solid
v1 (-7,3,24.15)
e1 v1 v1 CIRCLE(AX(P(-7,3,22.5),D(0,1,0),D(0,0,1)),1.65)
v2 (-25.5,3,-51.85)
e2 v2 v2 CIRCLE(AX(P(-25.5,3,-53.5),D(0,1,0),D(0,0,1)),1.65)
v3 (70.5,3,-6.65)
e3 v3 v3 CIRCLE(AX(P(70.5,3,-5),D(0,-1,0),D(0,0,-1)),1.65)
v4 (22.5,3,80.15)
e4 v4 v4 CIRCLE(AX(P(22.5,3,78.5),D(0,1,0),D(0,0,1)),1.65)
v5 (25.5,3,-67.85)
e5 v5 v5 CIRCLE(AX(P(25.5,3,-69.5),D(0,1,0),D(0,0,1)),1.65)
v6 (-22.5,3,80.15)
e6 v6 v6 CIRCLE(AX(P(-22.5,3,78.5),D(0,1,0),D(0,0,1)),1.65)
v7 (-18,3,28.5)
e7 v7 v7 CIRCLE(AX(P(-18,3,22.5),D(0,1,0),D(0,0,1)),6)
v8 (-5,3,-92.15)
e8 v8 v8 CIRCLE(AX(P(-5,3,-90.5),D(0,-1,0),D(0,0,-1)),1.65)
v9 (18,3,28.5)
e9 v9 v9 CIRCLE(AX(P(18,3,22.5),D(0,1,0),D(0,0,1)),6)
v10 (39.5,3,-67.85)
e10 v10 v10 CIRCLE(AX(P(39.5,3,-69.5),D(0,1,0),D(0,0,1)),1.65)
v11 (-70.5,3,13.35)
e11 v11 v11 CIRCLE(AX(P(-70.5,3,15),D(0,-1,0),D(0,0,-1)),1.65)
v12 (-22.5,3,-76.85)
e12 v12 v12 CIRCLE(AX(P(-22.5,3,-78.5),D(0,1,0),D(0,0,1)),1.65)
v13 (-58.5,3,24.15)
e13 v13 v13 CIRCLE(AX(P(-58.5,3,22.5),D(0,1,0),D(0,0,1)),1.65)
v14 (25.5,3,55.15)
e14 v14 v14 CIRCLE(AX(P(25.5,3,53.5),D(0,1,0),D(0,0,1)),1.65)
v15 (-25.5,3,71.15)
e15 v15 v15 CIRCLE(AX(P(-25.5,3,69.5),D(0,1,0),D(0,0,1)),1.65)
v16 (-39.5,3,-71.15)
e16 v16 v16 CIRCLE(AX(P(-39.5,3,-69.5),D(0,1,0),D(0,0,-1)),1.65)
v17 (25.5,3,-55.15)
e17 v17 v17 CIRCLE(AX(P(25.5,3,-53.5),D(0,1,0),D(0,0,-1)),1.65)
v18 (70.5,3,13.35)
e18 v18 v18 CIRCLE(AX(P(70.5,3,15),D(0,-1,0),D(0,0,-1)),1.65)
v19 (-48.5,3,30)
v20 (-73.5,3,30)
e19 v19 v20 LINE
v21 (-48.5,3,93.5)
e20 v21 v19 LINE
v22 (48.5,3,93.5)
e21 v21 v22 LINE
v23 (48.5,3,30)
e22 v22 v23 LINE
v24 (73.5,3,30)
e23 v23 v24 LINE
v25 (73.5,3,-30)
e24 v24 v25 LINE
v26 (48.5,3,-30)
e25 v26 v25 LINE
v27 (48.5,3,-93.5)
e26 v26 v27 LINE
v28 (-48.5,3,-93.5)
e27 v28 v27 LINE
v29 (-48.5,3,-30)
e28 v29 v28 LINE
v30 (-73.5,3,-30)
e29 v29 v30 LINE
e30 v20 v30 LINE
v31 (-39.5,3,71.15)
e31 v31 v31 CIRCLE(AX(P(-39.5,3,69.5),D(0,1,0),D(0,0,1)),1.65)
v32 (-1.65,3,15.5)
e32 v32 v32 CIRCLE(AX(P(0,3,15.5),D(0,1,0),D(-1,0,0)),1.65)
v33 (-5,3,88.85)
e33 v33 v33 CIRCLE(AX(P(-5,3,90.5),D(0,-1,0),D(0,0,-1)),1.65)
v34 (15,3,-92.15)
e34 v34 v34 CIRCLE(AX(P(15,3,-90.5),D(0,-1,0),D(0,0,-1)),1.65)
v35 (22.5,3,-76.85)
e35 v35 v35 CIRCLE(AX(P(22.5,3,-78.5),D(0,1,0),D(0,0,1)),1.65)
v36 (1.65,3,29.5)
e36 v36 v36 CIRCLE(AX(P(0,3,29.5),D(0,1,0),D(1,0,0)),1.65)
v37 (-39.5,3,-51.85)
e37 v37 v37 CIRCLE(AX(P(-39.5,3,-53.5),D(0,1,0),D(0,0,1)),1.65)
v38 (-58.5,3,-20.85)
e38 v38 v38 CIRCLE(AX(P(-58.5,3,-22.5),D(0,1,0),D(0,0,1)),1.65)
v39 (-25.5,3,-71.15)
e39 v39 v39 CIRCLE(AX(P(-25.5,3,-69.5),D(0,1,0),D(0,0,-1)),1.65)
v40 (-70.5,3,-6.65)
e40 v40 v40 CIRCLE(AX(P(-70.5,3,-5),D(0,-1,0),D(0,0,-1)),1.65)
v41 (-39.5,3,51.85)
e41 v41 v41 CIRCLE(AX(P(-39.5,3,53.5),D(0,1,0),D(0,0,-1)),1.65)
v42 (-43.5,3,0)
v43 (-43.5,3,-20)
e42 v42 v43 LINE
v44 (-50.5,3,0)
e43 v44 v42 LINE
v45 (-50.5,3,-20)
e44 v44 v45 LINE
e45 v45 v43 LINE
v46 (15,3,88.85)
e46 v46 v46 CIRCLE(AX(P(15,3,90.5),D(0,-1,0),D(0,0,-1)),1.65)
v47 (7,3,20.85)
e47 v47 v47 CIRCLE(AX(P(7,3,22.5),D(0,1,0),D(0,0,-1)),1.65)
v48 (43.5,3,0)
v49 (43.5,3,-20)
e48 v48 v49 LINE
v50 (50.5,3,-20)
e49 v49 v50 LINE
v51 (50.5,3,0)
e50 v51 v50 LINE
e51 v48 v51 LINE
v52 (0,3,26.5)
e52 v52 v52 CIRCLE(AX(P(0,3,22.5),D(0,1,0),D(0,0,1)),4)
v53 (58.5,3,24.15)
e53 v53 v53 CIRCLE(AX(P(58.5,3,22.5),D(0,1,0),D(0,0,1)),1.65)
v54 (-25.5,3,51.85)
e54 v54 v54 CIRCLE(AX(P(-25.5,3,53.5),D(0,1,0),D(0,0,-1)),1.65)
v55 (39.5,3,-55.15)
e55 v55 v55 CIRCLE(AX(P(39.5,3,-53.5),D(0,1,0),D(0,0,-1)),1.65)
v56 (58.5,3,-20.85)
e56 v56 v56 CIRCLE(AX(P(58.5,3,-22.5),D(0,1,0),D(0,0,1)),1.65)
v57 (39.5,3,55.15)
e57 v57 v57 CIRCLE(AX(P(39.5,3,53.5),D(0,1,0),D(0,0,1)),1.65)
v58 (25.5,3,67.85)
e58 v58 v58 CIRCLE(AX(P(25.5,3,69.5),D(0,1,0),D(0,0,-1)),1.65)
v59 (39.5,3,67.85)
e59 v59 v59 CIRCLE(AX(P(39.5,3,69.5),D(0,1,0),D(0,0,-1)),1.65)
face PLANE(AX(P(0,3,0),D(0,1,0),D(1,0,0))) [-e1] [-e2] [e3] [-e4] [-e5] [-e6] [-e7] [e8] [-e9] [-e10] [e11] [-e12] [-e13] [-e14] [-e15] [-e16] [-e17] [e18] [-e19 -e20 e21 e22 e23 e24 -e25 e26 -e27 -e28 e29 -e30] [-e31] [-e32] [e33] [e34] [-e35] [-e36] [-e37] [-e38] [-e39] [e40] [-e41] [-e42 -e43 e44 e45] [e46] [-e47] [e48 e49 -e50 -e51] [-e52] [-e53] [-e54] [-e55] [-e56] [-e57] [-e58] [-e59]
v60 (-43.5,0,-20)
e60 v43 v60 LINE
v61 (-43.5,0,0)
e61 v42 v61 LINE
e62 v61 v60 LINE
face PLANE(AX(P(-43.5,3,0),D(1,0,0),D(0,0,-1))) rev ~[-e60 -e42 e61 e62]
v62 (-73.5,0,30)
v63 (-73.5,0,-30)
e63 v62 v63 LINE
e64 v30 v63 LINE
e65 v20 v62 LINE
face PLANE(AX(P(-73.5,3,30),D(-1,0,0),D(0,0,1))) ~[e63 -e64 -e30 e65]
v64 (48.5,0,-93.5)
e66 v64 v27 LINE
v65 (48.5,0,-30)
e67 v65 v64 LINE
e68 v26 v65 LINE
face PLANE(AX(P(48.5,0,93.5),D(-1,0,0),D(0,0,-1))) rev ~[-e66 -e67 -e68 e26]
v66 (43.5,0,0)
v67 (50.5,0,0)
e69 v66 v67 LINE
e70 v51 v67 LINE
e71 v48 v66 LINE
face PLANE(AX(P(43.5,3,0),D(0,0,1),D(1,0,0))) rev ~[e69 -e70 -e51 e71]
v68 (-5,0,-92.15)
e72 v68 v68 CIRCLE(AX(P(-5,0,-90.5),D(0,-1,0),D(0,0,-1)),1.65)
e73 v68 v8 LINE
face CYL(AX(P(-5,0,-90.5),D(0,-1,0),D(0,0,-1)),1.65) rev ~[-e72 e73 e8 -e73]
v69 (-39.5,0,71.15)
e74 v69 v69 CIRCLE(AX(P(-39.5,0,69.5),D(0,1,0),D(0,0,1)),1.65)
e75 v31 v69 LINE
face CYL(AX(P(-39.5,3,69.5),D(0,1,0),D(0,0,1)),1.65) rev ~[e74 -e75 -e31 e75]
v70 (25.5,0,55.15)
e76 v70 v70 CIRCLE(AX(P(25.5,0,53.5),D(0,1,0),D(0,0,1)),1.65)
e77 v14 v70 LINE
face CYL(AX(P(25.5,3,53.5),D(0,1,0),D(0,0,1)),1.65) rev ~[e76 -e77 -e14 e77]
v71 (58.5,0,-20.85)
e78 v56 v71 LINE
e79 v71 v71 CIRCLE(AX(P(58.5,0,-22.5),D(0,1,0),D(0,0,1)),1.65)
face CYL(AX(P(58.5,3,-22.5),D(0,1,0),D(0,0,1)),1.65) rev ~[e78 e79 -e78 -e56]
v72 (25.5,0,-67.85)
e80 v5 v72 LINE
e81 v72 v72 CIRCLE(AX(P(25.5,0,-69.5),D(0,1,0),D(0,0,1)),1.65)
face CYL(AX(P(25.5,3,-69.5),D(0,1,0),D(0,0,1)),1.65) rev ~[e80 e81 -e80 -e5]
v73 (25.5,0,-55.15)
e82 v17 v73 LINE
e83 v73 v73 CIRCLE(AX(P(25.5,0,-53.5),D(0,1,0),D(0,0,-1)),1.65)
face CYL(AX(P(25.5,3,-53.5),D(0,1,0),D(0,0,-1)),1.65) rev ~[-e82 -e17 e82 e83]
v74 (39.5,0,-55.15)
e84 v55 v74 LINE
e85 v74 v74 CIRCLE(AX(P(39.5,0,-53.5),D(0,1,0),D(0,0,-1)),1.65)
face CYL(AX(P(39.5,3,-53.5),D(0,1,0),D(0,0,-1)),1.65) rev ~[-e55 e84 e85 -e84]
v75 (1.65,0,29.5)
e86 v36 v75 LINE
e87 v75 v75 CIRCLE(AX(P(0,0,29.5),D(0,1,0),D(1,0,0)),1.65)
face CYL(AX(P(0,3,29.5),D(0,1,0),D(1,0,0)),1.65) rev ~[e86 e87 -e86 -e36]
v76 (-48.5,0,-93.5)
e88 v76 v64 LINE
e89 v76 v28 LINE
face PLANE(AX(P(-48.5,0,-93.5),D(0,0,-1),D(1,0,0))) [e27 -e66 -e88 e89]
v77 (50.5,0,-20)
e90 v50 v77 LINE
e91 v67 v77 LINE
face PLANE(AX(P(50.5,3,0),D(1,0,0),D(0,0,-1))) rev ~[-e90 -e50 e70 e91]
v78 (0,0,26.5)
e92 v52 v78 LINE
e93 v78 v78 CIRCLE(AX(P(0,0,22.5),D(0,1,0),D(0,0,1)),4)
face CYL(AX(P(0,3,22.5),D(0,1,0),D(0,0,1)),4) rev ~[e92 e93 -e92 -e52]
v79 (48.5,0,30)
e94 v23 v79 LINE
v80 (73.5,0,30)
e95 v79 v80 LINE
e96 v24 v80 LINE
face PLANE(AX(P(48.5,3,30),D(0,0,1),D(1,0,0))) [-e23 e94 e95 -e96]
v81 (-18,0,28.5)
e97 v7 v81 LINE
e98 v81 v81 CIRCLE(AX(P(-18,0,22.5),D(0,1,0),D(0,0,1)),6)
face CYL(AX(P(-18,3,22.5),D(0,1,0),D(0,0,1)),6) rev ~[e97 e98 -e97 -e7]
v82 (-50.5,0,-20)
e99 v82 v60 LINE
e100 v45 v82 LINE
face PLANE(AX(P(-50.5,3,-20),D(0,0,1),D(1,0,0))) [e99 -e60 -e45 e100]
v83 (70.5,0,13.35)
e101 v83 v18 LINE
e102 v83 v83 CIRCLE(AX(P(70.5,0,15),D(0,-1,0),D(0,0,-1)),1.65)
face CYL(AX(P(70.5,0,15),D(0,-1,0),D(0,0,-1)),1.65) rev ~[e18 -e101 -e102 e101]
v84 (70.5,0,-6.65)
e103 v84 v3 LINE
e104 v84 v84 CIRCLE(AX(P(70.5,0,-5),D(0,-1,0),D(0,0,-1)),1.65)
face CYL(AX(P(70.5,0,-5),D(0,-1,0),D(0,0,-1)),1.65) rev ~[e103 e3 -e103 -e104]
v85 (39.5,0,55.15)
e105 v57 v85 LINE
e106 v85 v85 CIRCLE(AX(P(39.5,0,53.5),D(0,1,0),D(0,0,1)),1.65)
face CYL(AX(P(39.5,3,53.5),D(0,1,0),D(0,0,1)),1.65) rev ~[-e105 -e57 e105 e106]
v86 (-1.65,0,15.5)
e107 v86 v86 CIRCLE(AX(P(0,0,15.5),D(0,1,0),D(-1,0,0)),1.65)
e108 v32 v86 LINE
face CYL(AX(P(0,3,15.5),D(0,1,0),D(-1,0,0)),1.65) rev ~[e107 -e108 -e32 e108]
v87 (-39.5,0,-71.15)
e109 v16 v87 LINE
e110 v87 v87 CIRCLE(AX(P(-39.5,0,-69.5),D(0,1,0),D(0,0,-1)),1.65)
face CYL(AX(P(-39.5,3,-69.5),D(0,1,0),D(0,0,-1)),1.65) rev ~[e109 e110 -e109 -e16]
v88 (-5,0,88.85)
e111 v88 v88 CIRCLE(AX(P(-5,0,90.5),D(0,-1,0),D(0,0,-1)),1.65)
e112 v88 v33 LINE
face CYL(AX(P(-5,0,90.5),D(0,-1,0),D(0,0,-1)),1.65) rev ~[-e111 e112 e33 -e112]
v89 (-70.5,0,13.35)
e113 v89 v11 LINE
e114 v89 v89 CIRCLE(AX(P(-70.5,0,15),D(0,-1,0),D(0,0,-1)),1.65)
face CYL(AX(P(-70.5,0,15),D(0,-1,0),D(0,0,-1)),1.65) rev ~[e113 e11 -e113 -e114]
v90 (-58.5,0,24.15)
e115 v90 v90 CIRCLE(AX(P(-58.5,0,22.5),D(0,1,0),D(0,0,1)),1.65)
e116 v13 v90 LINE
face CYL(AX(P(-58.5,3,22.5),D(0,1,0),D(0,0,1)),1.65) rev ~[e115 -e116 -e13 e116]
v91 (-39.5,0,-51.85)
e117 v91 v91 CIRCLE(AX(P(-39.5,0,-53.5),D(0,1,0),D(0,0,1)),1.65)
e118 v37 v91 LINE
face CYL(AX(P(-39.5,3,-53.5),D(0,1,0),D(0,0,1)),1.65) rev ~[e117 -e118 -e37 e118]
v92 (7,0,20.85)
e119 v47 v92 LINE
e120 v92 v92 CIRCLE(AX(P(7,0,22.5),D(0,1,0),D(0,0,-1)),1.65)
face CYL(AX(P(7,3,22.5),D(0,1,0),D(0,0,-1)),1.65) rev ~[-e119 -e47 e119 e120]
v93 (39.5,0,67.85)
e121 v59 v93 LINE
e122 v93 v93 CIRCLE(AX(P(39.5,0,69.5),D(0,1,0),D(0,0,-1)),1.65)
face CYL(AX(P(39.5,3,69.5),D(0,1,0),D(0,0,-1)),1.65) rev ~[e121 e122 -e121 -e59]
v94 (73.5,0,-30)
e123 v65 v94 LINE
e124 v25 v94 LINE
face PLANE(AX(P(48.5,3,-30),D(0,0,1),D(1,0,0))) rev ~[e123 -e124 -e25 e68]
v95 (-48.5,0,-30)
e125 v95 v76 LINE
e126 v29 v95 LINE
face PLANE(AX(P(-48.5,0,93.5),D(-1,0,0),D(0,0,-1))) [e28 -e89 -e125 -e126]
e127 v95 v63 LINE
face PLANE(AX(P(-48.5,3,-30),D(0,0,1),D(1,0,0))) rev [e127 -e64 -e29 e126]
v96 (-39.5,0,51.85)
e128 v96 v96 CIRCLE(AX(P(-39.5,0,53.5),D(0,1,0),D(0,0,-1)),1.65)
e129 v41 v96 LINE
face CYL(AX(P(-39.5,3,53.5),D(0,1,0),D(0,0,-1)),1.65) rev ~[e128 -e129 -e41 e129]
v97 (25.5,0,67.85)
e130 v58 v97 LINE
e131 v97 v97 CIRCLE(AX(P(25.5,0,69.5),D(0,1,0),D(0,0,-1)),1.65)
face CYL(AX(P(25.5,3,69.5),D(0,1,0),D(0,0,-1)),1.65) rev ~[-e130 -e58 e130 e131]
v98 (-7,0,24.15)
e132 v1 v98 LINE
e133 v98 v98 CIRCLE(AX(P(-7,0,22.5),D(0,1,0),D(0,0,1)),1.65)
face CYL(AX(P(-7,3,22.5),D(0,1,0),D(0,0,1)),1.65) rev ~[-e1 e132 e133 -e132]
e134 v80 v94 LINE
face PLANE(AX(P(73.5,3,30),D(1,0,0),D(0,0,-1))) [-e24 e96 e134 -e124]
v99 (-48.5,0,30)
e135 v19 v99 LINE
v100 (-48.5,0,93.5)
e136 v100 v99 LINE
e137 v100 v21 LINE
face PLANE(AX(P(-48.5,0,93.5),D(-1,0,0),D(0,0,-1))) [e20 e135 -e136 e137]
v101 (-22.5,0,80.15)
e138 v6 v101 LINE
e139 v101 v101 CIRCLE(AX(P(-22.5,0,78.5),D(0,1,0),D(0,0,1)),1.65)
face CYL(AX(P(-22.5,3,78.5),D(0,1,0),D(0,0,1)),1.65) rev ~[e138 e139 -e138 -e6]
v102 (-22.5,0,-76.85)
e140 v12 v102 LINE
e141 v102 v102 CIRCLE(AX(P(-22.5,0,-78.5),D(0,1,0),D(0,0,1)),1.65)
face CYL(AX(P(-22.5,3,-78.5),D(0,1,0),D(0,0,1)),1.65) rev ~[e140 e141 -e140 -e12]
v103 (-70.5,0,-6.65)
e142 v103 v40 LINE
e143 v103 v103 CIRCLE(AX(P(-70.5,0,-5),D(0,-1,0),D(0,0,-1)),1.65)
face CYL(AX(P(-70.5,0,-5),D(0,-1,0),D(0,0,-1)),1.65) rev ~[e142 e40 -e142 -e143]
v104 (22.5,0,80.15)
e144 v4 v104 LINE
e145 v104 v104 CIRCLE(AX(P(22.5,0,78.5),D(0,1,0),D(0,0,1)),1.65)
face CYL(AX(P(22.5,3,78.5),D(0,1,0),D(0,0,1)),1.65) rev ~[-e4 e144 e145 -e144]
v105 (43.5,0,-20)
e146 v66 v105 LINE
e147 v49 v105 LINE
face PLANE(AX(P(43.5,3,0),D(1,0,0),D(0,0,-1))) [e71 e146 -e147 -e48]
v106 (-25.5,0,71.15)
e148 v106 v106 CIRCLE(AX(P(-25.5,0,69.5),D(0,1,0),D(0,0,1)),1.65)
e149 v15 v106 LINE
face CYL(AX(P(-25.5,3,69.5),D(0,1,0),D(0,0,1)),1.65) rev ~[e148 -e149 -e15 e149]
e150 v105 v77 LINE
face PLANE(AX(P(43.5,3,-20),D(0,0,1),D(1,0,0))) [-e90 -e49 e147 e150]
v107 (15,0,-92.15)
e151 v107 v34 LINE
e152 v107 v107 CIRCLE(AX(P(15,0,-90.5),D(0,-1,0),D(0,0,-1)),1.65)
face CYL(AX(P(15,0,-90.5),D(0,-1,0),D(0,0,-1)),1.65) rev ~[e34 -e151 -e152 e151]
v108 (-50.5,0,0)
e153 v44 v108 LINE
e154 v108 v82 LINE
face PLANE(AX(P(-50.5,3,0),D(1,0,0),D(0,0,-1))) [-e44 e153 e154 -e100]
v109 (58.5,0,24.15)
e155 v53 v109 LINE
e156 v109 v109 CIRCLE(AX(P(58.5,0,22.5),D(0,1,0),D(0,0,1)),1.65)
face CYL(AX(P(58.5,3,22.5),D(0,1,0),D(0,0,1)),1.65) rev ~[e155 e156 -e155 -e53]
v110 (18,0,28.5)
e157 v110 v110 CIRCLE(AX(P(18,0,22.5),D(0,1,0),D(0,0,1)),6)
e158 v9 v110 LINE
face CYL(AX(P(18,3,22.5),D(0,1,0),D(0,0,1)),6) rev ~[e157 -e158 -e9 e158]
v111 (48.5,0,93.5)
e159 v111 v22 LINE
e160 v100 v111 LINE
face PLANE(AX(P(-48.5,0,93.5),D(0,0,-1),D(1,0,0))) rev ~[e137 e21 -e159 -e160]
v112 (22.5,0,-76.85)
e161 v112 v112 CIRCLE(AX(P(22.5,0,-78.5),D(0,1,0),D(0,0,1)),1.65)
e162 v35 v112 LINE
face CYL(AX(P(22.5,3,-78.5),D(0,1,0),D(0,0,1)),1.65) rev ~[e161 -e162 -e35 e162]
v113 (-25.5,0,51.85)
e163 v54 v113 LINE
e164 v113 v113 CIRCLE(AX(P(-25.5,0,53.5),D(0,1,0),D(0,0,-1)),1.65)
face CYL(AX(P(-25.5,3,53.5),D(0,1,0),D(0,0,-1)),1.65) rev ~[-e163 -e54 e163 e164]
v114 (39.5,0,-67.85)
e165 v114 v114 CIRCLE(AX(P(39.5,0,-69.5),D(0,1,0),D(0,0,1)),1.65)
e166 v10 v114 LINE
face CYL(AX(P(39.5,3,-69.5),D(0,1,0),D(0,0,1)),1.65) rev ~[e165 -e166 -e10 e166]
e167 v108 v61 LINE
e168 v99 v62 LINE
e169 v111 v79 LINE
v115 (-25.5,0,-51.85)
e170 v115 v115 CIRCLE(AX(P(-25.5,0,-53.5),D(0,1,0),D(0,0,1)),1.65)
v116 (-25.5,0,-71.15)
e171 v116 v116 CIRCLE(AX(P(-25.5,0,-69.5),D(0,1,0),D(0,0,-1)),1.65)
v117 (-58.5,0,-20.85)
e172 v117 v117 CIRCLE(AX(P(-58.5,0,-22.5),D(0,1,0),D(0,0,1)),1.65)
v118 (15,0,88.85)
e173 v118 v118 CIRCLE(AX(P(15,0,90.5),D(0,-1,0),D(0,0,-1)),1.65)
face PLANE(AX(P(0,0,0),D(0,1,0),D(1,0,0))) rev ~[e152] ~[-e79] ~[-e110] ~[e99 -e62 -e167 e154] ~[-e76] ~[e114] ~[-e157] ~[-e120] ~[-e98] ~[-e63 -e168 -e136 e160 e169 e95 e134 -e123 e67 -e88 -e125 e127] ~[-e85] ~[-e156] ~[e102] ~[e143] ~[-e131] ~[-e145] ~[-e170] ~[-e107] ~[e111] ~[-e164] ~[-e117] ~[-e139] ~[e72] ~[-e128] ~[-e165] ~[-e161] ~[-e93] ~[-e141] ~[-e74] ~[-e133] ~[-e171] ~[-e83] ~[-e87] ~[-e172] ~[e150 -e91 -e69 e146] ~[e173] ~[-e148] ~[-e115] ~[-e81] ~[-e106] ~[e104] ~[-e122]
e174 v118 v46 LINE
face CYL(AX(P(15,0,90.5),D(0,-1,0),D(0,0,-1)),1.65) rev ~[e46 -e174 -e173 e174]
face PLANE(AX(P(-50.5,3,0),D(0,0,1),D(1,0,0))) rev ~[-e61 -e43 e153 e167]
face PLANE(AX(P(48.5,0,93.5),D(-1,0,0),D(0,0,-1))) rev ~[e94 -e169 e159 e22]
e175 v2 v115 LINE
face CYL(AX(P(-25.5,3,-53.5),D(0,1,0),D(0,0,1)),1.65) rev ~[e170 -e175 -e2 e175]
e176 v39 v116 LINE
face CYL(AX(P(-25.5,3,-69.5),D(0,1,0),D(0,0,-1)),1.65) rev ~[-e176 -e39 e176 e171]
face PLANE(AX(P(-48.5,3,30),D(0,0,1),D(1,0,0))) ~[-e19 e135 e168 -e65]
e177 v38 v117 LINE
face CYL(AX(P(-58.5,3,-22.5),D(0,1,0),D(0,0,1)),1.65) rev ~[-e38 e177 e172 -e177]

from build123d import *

# Parameters (mm, degrees)
SKETCH_1_W               = 97
SKETCH_1_H               = 187
EXTRUDE_1_DEPTH          = 3
SKETCH_2_R               = 1.65
CUT_EXTRUDE_1_DEPTH      = 3
SKETCH_3_R               = 4
SKETCH_3_R_2             = 1.65
CUT_EXTRUDE_2_DEPTH      = 3
SKETCH_3_4_R             = 1.65
CUT_EXTRUDE_3_DEPTH      = 3
PATTERN_CIRCULAR_1_COUNT = 4
SKETCH_4_W               = 25
SKETCH_4_H               = 60
EXTRUDE_2_DEPTH          = 3
SKETCH_6_R               = 1.65
CUT_EXTRUDE_5_DEPTH      = 3
CUT_EXTRUDE_8_REACH      = 120.968
SKETCH_9_R               = 6
SKETCH_24_R              = 1.65
CUT_EXTRUDE_15_DEPTH     = 3
SKETCH_33_R              = 1.65
CUT_EXTRUDE_24_DEPTH     = 3
SKETCH_42_R              = 1.65
CUT_EXTRUDE_32_DEPTH     = 3
SKETCH_44_W              = 7
SKETCH_44_H              = 20
CUT_EXTRUDE_34_DEPTH     = 10


with BuildPart() as part:
    # 草图1 → 凸台-拉伸1 (new body)
    with BuildSketch(Plane(origin=(0, 0, 0), x_dir=(1, 0, 0), z_dir=(0, 1, 0))):
        Rectangle(SKETCH_1_W, SKETCH_1_H)
    extrude(amount=EXTRUDE_1_DEPTH)

    # 草图2 → 切除-拉伸1 (cut)
    with BuildSketch(Plane(origin=(0, 3, 0), x_dir=(1, 0, 0), z_dir=(0, 1, 0))):
        with Locations(Location((39.5, -53.5, 0), (0, 0, 270))):
            Circle(SKETCH_2_R)
        with Locations(Location((25.5, -53.5, 0), (0, 0, 270))):
            Circle(SKETCH_2_R)
        with Locations(Location((25.5, -69.5, 0), (0, 0, 90))):
            Circle(SKETCH_2_R)
        with Locations(Location((39.5, -69.5, 0), (0, 0, 90))):
            Circle(SKETCH_2_R)
        with Locations(Location((-39.5, -69.5, 0), (0, 0, 270))):
            Circle(SKETCH_2_R)
        with Locations(Location((-25.5, -69.5, 0), (0, 0, 270))):
            Circle(SKETCH_2_R)
        with Locations(Location((-25.5, -53.5, 0), (0, 0, 90))):
            Circle(SKETCH_2_R)
        with Locations(Location((-39.5, -53.5, 0), (0, 0, 90))):
            Circle(SKETCH_2_R)
        with Locations(Location((-39.5, 53.5, 0), (0, 0, 270))):
            Circle(SKETCH_2_R)
        with Locations(Location((-25.5, 53.5, 0), (0, 0, 270))):
            Circle(SKETCH_2_R)
        with Locations(Location((-25.5, 69.5, 0), (0, 0, 90))):
            Circle(SKETCH_2_R)
        with Locations(Location((-39.5, 69.5, 0), (0, 0, 90))):
            Circle(SKETCH_2_R)
        with Locations(Location((39.5, 69.5, 0), (0, 0, 270))):
            Circle(SKETCH_2_R)
        with Locations(Location((25.5, 69.5, 0), (0, 0, 270))):
            Circle(SKETCH_2_R)
        with Locations(Location((25.5, 53.5, 0), (0, 0, 90))):
            Circle(SKETCH_2_R)
        with Locations(Location((39.5, 53.5, 0), (0, 0, 90))):
            Circle(SKETCH_2_R)
    extrude(amount=-CUT_EXTRUDE_1_DEPTH, mode=Mode.SUBTRACT)

    # 草图3 → 切除-拉伸2 (cut)
    with BuildSketch(Plane(origin=(0, 3, 0), x_dir=(1, 0, 0), z_dir=(0, 1, 0))):
        with Locations(Location((0, -22.5, 0), (0, 0, 270))):
            Circle(SKETCH_3_R)
        with Locations(Location((-18.5, -22.5, 0), (0, 0, 270))):
            Circle(SKETCH_3_R_2)
        with Locations(Location((18.5, -22.5, 0), (0, 0, 90))):
            Circle(SKETCH_3_R_2)
    extrude(amount=-CUT_EXTRUDE_2_DEPTH, mode=Mode.SUBTRACT)

    # 草图3<4> → 切除-拉伸3 (cut)
    with BuildSketch(Plane(origin=(0, 3, 0), x_dir=(1, 0, 0), z_dir=(0, 1, 0))):
        with Locations(Location((-7, -22.5, 0), (0, 0, 270))):
            Circle(SKETCH_3_4_R)
    cut_extrude_3 = extrude(amount=-CUT_EXTRUDE_3_DEPTH, mode=Mode.SUBTRACT)

    # 阵列(圆周)1: 切除-拉伸3 ×4 about axis
    pattern_circular_1_axis = Axis((0, 0, 22.5), (0, 1, 0))
    for i in range(1, PATTERN_CIRCULAR_1_COUNT):
        add(cut_extrude_3.rotate(pattern_circular_1_axis, i * 360 / PATTERN_CIRCULAR_1_COUNT), mode=Mode.SUBTRACT)

    # 草图4 → 凸台-拉伸2 (add)
    with BuildSketch(Plane(origin=(0, 3, 0), x_dir=(1, 0, 0), z_dir=(0, 1, 0))):
        with Locations((61, 0)):
            Rectangle(SKETCH_4_W, SKETCH_4_H)
    extrude_2 = extrude(amount=-EXTRUDE_2_DEPTH)

    # 镜向1: 凸台-拉伸2 across plane
    add(extrude_2.mirror(Plane(origin=(0, 0, 0), x_dir=(0, 0, 1), z_dir=(1, 0, 0))))

    # 草图6 → 切除-拉伸5 (cut)
    with BuildSketch(Plane.XZ):
        with Locations(Location((-5, 90.5, 0), (0, 0, 270))):
            Circle(SKETCH_6_R)
        with Locations(Location((15, 90.5, 0), (0, 0, 270))):
            Circle(SKETCH_6_R)
        with Locations(Location((-5, -90.5, 0), (0, 0, 270))):
            Circle(SKETCH_6_R)
        with Locations(Location((15, -90.5, 0), (0, 0, 270))):
            Circle(SKETCH_6_R)
    extrude(amount=-CUT_EXTRUDE_5_DEPTH, mode=Mode.SUBTRACT)

    # 草图9 → 切除-拉伸8 (cut, up to next)
    with BuildSketch(Plane(origin=(0, 3, 0), x_dir=(1, 0, 0), z_dir=(0, 1, 0)), mode=Mode.PRIVATE) as cut_extrude_8_sk1:
        with Locations(Location((-18, -22.5, 0), (0, 0, 270))):
            Circle(SKETCH_9_R)
    cut_extrude_8_tool1 = extrude(cut_extrude_8_sk1.sketch, amount=-CUT_EXTRUDE_8_REACH, mode=Mode.PRIVATE) & part.part
    # 草图9 → 切除-拉伸8 (cut, up to next)
    with BuildSketch(Plane(origin=(0, 3, 0), x_dir=(1, 0, 0), z_dir=(0, 1, 0)), mode=Mode.PRIVATE) as cut_extrude_8_sk2:
        with Locations(Location((18, -22.5, 0), (0, 0, 270))):
            Circle(SKETCH_9_R)
    cut_extrude_8_tool2 = extrude(cut_extrude_8_sk2.sketch, amount=-CUT_EXTRUDE_8_REACH, mode=Mode.PRIVATE) & part.part
    add(cut_extrude_8_tool1.solids().sort_by_distance((-18, 3, 22.5))[0], mode=Mode.SUBTRACT)
    add(cut_extrude_8_tool2.solids().sort_by_distance((18, 3, 22.5))[0], mode=Mode.SUBTRACT)

    # 草图24 → 切除-拉伸15 (cut)
    with BuildSketch(Plane(origin=(0, 3, 0), x_dir=(1, 0, 0), z_dir=(0, 1, 0))):
        with Locations(Location((-22.5, -78.5, 0), (0, 0, 270))):
            Circle(SKETCH_24_R)
        with Locations(Location((22.5, -78.5, 0), (0, 0, 270))):
            Circle(SKETCH_24_R)
        with Locations(Location((22.5, 78.5, 0), (0, 0, 270))):
            Circle(SKETCH_24_R)
        with Locations(Location((-22.5, 78.5, 0), (0, 0, 270))):
            Circle(SKETCH_24_R)
        with Locations((-100.151505846, -27.458044015)):
            Circle(SKETCH_24_R)
        with Locations((-95.406327774, 17.291070893)):
            Circle(SKETCH_24_R)
        with Locations(Location((58.5, -22.5, 0), (0, 0, 270))):
            Circle(SKETCH_24_R)
        with Locations(Location((58.5, 22.5, 0), (0, 0, 270))):
            Circle(SKETCH_24_R)
    extrude(amount=-CUT_EXTRUDE_15_DEPTH, mode=Mode.SUBTRACT)

    # 草图33 → 切除-拉伸24 (cut)
    with BuildSketch(Plane.XZ):
        with Locations(Location((70.5, -5, 0), (0, 0, 270))):
            Circle(SKETCH_33_R)
        with Locations(Location((70.5, 15, 0), (0, 0, 270))):
            Circle(SKETCH_33_R)
        with Locations(Location((-70.5, -5, 0), (0, 0, 270))):
            Circle(SKETCH_33_R)
        with Locations(Location((-70.5, 15, 0), (0, 0, 270))):
            Circle(SKETCH_33_R)
    extrude(amount=-CUT_EXTRUDE_24_DEPTH, mode=Mode.SUBTRACT)

    # 草图42 → 切除-拉伸32 (cut)
    with BuildSketch(Plane(origin=(0, 3, 0), x_dir=(1, 0, 0), z_dir=(0, 1, 0))):
        with Locations(Location((-58.5, 22.5, 0), (0, 0, 270))):
            Circle(SKETCH_42_R)
        with Locations(Location((-58.5, -22.5, 0), (0, 0, 270))):
            Circle(SKETCH_42_R)
    extrude(amount=-CUT_EXTRUDE_32_DEPTH, mode=Mode.SUBTRACT)

    # 草图44 → 切除-拉伸34 (cut)
    with BuildSketch(Plane(origin=(0, 3, 0), x_dir=(1, 0, 0), z_dir=(0, 1, 0))):
        with Locations((-47, 10)):
            Rectangle(SKETCH_44_W, SKETCH_44_H)
        with Locations((47, 10)):
            Rectangle(SKETCH_44_W, SKETCH_44_H)
    extrude(amount=-CUT_EXTRUDE_34_DEPTH, mode=Mode.SUBTRACT)


solid = part.part
